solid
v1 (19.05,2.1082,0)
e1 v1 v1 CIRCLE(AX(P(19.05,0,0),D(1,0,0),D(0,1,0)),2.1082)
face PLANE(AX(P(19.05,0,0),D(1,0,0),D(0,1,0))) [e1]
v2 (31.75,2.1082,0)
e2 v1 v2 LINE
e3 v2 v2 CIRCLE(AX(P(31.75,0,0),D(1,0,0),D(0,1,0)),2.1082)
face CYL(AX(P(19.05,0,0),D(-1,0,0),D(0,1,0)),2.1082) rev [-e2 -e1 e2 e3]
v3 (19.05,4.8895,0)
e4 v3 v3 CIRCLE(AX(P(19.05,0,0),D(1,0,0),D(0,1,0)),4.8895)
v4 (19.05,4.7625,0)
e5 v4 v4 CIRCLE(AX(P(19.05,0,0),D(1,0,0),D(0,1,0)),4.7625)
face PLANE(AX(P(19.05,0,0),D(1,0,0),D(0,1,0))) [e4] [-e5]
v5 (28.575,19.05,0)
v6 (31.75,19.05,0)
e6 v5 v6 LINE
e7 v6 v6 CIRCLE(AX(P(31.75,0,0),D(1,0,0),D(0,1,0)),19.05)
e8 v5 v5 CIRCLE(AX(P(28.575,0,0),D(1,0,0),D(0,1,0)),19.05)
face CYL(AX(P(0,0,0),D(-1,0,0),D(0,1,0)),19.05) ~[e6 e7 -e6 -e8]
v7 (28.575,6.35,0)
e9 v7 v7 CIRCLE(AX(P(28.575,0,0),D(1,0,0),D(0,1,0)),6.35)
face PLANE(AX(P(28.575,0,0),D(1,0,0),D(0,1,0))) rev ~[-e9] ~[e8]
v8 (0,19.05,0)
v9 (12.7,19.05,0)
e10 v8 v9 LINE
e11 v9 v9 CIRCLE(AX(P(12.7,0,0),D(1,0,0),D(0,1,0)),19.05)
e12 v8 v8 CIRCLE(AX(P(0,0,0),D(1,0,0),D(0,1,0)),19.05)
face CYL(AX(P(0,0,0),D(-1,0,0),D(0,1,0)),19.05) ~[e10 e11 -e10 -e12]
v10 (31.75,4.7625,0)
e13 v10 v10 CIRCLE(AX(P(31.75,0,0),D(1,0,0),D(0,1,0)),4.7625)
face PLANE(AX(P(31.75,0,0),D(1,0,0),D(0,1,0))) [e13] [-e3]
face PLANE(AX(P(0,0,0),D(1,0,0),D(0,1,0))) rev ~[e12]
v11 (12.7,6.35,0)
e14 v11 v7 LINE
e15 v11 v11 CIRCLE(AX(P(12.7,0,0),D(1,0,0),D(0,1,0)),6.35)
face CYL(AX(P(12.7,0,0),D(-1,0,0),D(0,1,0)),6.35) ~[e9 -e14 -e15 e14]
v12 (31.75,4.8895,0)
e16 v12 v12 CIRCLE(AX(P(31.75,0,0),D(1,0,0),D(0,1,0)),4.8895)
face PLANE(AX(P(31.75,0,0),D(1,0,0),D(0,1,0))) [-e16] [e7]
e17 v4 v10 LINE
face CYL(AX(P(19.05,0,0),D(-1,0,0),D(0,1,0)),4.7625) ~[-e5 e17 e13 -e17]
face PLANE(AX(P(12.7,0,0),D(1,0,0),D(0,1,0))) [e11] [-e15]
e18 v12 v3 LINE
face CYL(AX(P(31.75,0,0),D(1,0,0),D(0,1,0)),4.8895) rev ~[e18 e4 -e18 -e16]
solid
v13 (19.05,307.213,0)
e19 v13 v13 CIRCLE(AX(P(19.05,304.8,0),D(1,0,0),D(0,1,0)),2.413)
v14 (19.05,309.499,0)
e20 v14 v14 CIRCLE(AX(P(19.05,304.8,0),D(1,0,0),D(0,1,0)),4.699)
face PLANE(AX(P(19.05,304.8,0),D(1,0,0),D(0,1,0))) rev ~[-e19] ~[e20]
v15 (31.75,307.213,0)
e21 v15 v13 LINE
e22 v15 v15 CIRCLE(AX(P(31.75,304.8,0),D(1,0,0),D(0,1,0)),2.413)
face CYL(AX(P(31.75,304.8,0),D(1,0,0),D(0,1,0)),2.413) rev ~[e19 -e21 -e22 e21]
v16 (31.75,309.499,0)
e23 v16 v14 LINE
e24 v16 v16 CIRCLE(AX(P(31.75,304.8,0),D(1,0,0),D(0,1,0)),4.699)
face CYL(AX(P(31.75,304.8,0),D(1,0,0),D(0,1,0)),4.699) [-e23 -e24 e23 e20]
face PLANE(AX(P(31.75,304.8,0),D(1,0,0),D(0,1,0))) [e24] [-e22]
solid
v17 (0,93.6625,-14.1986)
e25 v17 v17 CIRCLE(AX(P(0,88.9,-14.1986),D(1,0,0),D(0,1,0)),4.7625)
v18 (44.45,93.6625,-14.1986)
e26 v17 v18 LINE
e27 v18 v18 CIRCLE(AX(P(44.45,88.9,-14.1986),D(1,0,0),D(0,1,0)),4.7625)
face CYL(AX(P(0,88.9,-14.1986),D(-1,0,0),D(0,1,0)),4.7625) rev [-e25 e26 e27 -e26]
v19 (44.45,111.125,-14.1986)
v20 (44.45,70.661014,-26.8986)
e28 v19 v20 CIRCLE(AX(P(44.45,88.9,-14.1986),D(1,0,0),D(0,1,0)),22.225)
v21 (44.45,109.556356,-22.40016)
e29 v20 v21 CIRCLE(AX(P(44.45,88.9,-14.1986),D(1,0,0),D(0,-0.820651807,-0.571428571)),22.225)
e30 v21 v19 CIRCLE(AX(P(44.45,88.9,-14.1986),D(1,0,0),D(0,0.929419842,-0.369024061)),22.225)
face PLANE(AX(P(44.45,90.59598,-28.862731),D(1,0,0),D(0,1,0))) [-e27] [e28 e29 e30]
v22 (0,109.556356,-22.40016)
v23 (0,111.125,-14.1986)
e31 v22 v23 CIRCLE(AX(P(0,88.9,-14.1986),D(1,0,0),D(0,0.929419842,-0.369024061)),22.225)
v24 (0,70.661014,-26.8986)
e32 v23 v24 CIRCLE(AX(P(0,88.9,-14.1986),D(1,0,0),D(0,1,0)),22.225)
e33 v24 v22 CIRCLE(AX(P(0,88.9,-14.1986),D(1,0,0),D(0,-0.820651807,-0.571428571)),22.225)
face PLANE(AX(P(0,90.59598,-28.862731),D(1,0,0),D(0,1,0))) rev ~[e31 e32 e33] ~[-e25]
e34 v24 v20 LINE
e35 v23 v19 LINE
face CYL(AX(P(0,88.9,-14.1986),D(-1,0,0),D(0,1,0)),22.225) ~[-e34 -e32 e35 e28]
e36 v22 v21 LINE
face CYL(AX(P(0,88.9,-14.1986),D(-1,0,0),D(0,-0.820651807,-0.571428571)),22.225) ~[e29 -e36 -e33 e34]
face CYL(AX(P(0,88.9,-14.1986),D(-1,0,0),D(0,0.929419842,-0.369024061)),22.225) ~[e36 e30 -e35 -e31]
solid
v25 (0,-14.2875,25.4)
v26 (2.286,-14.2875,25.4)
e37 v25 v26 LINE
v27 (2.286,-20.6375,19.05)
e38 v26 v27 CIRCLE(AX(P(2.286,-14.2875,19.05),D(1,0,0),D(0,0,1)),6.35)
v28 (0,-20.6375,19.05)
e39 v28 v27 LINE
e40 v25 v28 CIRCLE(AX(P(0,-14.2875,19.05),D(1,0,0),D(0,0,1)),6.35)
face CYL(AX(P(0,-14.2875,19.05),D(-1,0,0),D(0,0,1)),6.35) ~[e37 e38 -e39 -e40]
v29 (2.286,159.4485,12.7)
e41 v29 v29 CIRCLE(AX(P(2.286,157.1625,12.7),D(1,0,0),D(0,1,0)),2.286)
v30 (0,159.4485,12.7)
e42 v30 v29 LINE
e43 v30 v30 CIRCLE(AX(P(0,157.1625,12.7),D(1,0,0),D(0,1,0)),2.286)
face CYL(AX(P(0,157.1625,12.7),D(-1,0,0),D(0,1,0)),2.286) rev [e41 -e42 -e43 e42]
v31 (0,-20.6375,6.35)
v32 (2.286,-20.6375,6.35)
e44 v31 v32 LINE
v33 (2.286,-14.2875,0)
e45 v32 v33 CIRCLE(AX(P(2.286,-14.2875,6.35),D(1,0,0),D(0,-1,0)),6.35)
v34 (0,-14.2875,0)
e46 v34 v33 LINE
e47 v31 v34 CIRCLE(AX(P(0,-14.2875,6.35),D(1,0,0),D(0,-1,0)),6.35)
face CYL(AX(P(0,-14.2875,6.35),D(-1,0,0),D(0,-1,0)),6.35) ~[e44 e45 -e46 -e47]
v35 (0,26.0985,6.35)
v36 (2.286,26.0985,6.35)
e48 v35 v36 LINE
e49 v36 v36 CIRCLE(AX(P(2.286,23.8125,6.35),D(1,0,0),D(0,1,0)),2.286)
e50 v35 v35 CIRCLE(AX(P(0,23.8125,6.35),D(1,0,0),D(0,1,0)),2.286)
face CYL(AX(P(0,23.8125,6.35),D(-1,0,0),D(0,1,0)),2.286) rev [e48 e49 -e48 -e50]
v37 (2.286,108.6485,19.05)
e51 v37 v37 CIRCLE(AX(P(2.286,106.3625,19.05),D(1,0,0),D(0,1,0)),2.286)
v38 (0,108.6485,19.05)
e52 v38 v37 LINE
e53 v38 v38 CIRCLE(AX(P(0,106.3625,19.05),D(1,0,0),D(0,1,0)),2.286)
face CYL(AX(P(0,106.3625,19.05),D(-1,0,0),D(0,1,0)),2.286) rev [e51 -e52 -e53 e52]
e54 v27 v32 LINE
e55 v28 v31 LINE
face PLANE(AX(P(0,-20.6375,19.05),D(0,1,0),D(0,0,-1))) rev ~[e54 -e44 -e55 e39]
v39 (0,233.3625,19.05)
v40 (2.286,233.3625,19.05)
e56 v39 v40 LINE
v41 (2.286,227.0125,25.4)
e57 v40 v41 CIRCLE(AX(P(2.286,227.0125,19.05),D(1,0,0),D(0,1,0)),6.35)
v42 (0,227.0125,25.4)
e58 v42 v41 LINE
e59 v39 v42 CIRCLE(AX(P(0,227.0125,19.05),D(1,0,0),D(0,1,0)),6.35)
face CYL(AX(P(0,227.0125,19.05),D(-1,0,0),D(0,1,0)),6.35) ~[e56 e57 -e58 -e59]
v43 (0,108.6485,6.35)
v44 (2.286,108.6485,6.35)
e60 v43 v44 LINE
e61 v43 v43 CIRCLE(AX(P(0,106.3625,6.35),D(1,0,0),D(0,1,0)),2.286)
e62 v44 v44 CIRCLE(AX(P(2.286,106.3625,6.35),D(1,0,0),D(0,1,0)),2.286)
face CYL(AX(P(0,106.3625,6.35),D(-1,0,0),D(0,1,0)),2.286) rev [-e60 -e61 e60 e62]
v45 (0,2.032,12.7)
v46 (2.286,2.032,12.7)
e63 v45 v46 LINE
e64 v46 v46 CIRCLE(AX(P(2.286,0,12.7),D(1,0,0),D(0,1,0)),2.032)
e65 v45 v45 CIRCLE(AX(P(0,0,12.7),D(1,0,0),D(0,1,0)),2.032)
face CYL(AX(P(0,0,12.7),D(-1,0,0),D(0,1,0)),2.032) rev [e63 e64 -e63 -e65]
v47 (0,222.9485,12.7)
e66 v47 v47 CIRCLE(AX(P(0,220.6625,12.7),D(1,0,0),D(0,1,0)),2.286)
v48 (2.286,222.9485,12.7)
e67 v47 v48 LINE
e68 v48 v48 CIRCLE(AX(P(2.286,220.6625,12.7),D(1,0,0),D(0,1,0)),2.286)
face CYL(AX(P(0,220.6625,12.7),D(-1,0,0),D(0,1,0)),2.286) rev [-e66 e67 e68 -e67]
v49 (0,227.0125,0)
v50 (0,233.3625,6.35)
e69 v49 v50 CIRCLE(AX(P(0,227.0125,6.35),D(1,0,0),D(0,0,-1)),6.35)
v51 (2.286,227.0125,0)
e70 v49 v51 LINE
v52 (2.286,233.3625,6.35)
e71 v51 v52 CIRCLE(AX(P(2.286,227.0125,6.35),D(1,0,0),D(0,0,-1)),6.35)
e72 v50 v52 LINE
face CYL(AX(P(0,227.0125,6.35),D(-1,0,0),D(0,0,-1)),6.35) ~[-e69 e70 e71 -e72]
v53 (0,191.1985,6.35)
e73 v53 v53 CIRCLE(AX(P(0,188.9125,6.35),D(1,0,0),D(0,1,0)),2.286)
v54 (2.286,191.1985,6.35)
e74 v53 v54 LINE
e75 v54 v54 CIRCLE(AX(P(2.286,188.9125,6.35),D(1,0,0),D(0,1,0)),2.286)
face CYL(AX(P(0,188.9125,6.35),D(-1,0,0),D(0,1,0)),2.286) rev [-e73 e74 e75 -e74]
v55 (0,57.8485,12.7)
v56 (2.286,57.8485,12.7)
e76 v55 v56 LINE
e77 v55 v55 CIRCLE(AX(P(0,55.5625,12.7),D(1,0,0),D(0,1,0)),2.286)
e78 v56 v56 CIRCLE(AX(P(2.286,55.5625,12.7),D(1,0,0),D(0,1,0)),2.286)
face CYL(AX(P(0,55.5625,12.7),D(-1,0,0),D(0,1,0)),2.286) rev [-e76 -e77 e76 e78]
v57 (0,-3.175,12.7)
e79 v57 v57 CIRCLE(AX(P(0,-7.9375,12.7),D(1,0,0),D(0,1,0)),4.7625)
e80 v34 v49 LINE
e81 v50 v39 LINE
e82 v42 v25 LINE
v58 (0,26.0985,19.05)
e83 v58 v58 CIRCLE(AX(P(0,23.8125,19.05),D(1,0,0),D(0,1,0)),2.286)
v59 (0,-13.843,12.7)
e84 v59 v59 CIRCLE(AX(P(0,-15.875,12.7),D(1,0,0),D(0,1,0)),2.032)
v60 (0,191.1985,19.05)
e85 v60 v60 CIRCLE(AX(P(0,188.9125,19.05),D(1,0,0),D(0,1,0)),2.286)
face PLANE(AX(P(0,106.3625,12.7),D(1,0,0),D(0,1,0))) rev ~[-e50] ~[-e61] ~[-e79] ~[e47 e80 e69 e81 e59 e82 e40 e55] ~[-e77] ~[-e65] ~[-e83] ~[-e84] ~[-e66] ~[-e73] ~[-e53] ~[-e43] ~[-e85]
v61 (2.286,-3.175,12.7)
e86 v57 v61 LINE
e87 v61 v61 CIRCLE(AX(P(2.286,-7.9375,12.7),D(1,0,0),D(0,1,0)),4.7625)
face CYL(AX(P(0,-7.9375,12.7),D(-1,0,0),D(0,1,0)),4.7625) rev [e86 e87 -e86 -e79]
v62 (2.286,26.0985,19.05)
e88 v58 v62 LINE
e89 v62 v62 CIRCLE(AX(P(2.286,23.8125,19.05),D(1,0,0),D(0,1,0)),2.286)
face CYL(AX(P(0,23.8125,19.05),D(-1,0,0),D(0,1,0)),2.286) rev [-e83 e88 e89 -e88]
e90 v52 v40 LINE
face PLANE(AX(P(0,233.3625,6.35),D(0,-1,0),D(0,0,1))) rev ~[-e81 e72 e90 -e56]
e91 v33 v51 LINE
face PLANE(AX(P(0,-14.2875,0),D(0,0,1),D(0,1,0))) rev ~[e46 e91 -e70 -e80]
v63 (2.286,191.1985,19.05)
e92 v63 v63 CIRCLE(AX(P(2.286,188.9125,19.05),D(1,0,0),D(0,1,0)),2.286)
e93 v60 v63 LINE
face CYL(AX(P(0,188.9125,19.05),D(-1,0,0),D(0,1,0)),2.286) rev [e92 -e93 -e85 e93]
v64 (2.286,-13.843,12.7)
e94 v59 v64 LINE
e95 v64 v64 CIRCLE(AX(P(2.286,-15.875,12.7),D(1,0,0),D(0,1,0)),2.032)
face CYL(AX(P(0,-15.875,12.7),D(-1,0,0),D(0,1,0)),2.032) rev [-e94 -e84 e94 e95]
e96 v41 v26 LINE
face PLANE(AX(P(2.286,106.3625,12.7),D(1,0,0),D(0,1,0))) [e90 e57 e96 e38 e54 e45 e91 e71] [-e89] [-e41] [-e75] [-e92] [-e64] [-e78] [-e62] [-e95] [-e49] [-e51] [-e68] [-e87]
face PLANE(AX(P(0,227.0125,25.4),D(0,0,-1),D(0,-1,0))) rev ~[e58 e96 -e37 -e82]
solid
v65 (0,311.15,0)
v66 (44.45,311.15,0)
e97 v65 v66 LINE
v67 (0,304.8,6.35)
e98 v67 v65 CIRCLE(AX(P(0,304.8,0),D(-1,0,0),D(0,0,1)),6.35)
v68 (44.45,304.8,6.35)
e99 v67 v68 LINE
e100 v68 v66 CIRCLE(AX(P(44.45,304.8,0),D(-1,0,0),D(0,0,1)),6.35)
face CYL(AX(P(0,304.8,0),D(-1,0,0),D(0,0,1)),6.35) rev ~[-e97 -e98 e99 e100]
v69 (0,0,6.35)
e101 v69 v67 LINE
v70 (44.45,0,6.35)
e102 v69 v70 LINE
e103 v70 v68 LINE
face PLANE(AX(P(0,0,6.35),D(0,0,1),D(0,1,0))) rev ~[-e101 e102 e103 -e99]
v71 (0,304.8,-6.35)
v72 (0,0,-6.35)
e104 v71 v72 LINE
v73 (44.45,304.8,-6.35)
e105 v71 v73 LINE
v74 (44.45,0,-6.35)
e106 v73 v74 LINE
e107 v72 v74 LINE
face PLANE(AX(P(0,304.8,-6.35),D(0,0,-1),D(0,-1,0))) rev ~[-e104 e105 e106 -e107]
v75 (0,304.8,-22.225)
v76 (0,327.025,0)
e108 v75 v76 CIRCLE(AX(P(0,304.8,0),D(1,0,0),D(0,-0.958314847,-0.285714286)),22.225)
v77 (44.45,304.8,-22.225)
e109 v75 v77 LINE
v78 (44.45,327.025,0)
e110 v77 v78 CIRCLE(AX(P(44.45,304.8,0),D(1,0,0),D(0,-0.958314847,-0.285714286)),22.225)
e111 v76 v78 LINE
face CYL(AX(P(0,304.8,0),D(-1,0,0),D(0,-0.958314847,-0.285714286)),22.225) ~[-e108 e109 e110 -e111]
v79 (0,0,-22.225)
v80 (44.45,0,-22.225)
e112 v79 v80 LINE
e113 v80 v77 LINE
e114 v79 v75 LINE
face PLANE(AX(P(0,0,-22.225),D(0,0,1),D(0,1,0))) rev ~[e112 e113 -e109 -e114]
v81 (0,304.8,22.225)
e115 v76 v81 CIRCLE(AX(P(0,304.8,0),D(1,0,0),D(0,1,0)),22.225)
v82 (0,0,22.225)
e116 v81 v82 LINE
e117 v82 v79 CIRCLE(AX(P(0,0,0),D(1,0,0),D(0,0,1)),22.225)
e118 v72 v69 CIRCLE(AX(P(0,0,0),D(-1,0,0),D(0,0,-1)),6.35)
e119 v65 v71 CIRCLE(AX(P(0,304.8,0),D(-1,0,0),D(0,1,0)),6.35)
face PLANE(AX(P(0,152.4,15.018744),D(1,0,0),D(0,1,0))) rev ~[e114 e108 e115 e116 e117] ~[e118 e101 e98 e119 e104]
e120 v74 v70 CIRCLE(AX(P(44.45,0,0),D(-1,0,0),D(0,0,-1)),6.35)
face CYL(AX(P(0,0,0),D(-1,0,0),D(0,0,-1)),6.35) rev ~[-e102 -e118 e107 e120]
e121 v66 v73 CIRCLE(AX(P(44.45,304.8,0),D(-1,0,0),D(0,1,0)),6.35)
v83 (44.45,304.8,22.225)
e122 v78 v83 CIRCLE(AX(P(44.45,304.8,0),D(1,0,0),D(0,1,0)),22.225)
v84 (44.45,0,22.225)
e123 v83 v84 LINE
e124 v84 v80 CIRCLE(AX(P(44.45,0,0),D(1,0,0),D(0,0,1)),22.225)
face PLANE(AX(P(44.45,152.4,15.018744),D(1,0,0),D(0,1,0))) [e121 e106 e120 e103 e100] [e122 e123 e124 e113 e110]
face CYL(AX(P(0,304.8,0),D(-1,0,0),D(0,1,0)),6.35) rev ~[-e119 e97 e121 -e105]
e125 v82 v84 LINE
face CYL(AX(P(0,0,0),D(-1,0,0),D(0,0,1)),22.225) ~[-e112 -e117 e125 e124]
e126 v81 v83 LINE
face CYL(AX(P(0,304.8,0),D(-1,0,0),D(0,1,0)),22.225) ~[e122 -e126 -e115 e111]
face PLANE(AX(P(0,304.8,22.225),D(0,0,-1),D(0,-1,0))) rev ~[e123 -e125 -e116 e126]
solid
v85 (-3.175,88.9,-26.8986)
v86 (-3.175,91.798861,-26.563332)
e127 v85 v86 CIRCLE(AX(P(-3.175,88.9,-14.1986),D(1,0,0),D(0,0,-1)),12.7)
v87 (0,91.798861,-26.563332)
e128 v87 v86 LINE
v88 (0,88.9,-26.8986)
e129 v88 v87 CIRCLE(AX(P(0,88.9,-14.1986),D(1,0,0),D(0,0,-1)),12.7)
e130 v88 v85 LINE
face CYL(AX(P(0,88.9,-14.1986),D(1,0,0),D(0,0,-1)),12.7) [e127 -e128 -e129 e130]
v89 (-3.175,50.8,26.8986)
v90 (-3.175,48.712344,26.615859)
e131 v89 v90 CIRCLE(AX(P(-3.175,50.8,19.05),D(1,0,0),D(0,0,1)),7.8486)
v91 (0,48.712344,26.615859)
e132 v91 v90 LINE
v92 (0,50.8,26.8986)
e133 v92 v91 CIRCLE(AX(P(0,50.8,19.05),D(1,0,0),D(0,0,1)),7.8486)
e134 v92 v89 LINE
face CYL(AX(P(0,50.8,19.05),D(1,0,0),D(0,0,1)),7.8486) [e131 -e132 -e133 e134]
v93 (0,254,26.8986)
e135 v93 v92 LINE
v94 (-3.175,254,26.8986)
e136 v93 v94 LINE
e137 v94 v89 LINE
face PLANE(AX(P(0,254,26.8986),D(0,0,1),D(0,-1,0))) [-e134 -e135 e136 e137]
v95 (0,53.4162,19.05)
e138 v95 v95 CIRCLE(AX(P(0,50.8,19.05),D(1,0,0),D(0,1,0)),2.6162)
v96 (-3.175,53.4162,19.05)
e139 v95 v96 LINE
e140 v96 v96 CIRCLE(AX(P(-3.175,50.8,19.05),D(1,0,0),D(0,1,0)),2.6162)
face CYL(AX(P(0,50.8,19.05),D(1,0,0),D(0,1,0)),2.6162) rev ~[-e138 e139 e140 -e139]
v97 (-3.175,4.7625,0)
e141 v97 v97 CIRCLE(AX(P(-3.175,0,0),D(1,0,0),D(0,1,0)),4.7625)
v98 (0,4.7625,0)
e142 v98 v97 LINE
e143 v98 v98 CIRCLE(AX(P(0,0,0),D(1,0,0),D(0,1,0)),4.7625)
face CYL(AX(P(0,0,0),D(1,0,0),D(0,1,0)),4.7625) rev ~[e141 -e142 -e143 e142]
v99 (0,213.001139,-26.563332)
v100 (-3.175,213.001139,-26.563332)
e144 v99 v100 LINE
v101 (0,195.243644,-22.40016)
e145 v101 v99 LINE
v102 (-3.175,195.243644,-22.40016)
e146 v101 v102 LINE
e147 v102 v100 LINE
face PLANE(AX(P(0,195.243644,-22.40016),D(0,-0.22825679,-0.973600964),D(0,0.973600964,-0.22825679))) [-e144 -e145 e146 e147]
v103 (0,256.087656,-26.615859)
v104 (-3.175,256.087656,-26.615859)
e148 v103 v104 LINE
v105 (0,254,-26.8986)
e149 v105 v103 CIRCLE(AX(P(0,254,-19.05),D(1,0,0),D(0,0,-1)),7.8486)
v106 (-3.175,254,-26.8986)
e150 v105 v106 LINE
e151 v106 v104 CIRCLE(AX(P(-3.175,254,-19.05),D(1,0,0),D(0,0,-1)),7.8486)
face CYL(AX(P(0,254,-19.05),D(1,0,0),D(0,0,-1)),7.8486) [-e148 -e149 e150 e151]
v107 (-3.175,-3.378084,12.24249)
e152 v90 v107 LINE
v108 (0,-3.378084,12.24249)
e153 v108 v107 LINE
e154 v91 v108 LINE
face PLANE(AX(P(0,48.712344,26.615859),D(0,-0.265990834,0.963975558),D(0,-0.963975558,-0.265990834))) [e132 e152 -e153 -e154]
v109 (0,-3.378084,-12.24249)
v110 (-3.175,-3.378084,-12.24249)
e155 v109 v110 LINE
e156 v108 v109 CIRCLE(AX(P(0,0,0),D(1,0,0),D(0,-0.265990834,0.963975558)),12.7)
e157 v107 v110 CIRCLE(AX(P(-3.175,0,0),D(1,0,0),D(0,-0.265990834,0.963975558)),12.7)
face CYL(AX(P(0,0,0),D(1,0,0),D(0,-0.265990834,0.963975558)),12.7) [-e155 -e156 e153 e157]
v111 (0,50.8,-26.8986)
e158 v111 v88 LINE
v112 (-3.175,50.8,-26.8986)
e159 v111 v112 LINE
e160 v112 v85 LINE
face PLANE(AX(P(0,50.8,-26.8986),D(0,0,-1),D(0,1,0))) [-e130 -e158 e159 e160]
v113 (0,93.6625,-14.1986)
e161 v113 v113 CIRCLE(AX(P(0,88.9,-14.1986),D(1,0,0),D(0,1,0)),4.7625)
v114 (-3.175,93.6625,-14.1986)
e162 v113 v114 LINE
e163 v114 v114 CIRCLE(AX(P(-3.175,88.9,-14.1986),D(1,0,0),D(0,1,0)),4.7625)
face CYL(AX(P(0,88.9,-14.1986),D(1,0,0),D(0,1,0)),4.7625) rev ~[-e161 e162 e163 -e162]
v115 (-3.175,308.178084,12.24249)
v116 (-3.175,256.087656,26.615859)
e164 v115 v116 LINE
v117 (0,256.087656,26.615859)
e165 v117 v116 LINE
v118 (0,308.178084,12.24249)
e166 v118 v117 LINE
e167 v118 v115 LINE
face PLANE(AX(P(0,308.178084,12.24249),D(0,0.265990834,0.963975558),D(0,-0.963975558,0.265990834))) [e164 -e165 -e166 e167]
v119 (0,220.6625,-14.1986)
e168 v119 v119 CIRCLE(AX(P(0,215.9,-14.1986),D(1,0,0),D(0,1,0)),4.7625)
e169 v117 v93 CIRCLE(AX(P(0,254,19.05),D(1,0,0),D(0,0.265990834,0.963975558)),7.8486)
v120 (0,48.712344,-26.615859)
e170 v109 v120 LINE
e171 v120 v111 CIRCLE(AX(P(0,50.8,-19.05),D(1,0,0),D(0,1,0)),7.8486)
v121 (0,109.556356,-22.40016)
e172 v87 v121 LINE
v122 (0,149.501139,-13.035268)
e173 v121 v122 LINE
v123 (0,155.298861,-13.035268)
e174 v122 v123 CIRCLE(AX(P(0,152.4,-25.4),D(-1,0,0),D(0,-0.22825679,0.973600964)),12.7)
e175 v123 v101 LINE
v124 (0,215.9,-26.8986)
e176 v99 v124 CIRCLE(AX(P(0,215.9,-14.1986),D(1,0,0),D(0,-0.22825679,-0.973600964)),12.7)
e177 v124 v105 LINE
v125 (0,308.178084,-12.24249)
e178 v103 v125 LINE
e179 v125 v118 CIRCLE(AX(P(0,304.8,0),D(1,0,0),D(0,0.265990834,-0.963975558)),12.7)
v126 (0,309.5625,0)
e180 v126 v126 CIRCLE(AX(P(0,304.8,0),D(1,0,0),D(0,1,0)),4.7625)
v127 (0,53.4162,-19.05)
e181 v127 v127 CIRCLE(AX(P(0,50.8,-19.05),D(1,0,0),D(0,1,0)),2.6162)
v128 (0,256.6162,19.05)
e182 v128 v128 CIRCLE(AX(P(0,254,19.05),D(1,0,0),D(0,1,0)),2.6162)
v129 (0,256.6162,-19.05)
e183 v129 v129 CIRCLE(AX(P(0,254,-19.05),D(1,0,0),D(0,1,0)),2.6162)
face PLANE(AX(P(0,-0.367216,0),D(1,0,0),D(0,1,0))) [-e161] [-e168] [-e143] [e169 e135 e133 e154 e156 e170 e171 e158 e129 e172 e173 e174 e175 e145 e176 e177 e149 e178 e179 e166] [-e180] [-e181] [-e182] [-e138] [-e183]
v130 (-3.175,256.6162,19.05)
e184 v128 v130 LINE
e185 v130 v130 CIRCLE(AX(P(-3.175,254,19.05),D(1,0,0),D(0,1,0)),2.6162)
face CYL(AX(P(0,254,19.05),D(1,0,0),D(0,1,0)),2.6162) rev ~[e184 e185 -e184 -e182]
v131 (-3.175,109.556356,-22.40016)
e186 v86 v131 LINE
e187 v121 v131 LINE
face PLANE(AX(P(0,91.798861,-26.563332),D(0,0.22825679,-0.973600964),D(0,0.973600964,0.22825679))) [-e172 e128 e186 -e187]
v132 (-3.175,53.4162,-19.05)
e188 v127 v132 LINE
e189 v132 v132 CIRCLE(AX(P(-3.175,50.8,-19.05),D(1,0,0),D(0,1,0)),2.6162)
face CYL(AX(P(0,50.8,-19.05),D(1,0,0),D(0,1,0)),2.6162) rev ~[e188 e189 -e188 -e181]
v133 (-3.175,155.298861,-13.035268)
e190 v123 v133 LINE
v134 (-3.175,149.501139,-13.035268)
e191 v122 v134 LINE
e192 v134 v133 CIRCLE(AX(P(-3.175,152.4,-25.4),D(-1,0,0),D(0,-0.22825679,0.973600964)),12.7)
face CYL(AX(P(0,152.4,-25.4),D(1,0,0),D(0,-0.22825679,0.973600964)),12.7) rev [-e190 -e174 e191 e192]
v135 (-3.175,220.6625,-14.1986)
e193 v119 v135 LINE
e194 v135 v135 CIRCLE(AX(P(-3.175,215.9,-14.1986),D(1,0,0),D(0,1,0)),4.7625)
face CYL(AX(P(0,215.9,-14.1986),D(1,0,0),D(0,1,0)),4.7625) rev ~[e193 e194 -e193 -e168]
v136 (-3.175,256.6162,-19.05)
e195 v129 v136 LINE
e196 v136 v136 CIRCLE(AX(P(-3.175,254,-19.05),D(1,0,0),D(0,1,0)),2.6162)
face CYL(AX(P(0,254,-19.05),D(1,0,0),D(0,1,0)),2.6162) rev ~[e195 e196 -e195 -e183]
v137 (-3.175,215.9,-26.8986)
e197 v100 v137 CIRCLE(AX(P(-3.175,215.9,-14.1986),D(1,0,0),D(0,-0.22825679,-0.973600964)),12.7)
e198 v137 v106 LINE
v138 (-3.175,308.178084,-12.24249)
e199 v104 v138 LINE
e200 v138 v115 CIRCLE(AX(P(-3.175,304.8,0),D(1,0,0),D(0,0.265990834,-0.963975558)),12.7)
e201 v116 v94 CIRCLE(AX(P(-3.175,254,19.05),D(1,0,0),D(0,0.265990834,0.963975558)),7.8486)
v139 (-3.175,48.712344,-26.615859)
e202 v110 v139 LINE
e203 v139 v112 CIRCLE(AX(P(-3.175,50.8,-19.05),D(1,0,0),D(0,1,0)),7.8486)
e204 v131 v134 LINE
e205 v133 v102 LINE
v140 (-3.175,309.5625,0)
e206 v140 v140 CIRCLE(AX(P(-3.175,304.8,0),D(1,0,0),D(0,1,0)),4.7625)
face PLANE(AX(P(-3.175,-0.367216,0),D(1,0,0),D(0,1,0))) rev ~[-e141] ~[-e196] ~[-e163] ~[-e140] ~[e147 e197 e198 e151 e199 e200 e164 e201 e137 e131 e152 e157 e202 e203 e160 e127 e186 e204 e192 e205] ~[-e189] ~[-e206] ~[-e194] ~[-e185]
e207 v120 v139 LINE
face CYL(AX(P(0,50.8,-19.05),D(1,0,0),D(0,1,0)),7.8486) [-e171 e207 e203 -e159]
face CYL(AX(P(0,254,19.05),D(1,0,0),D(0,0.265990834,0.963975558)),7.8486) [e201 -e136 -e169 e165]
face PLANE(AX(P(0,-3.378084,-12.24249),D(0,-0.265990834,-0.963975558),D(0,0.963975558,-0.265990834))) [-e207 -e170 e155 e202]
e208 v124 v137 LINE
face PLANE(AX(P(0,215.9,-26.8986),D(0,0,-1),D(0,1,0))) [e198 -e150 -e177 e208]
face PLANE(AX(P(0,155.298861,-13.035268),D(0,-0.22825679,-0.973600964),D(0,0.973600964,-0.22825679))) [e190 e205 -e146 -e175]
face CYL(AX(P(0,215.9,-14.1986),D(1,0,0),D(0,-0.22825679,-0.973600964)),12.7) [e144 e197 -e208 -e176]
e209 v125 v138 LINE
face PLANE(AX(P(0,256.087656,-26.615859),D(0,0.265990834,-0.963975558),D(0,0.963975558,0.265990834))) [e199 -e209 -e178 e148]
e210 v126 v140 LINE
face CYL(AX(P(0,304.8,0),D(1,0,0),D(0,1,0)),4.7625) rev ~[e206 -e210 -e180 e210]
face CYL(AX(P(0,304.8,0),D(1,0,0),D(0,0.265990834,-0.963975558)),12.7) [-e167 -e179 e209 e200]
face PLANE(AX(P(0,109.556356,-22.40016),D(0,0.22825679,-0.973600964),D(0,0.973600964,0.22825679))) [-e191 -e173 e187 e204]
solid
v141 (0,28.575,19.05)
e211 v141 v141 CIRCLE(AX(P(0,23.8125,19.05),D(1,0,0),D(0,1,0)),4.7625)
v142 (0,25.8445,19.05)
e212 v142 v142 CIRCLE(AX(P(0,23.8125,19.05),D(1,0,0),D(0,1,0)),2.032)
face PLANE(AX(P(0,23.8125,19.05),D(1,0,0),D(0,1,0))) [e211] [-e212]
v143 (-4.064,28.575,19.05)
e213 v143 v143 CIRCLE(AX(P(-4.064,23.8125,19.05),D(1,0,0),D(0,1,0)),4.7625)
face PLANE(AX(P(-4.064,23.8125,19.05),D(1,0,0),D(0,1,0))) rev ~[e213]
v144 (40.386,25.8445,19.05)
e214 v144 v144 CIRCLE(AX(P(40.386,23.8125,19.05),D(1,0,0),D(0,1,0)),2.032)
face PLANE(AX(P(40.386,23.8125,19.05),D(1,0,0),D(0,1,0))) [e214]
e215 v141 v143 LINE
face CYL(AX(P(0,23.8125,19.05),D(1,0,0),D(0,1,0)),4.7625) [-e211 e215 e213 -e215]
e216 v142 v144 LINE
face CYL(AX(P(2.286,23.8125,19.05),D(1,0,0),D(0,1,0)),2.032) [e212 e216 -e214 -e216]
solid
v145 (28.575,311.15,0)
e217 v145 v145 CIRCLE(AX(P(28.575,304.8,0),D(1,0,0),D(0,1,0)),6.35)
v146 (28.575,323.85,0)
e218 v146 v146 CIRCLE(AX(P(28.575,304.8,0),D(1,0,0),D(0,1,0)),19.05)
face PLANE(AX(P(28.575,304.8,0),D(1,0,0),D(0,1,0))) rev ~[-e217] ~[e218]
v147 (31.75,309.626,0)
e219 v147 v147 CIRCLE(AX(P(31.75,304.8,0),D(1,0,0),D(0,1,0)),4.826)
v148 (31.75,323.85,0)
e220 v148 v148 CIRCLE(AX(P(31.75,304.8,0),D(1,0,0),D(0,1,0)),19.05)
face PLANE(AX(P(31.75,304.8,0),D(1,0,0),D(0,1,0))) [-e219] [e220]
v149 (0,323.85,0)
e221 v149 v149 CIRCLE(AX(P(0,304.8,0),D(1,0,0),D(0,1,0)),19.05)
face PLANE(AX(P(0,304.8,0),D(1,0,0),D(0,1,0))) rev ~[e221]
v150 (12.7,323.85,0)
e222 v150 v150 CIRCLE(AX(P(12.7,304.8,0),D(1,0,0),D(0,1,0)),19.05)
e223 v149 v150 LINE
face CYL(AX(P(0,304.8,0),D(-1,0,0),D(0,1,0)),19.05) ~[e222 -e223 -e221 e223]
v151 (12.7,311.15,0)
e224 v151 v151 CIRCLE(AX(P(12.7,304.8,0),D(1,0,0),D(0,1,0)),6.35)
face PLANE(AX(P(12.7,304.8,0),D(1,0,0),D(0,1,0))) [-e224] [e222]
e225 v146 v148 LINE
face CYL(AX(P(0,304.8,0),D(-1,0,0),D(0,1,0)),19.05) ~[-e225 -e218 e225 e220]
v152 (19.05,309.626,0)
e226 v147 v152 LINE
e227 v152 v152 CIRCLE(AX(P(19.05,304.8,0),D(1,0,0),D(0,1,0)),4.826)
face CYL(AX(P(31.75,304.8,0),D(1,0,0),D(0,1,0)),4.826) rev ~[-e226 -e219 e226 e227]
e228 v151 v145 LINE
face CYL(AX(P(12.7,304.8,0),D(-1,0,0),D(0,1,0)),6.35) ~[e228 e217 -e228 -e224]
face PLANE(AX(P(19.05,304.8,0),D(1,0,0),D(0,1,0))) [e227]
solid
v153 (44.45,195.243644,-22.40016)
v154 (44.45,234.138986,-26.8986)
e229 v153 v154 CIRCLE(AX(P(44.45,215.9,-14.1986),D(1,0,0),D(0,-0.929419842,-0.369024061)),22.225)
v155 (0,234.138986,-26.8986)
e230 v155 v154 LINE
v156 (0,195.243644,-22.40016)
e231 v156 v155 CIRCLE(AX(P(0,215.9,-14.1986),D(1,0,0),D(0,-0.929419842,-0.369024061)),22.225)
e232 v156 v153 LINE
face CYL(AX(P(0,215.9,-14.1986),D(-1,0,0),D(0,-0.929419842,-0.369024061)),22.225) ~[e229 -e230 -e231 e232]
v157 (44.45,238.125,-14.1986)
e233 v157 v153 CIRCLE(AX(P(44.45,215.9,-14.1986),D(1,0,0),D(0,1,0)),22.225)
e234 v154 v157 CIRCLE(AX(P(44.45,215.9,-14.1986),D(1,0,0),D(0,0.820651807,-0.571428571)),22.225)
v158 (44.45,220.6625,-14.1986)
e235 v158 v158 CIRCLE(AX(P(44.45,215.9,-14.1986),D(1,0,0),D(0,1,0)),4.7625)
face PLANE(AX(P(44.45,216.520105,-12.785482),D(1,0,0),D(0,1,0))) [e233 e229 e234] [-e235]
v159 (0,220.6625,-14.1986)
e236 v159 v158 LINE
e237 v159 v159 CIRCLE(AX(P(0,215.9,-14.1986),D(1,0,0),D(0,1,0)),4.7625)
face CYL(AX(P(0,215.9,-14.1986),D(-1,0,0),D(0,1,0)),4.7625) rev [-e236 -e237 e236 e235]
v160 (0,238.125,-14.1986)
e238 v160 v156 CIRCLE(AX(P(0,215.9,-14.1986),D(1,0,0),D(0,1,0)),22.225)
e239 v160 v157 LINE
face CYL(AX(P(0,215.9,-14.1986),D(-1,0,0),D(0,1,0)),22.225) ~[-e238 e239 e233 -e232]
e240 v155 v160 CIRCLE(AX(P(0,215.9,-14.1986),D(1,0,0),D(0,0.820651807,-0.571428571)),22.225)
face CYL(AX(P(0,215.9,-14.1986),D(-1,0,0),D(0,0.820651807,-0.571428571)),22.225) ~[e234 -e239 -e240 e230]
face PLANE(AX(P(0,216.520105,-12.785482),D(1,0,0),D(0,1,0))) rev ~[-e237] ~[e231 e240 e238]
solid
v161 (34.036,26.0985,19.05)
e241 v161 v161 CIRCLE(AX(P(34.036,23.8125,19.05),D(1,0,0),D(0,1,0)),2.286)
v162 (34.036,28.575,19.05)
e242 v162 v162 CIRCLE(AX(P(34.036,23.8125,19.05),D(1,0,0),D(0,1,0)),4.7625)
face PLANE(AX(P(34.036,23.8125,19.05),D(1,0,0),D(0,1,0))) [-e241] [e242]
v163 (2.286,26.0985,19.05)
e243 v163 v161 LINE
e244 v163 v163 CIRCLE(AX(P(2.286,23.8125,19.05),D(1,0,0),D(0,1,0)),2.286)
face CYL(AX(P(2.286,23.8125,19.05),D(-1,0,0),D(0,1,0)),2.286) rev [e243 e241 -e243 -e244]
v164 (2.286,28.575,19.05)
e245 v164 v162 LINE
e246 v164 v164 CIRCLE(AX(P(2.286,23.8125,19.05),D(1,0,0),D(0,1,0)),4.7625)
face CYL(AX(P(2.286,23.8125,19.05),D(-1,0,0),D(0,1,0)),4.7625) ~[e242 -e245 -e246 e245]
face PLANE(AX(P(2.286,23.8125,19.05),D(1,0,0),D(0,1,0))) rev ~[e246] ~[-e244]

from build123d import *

# Parameters (mm, degrees)
F0_R           = 19.05
F0_R_2         = 6.35
F1_DEPTH       = 31.75
F2_START       = 12.7
F2_DEPTH       = 15.875
F3_R           = 4.7625
F3_R_2         = 2.6162
F4_DEPTH       = 3.175
F5_DEPTH       = 44.45
F7_DEPTH       = 44.45
F8_R           = 2.286
F8_R_2         = 2.032
F8_R_3         = 4.7625
F9_DEPTH       = 2.286
F10_R          = 4.7625
F10_R_2        = 2.286
F11_DEPTH      = 31.75
F10_R_3        = 2.032
F12_DEPTH      = 38.1
F12_DEPTH_BACK = 2.286
F13_START      = -2.286
F13_DEPTH      = 4.064
F14_R          = 4.8895
F15_DEPTH      = 12.7
F16_R          = 4.7625
F16_R_2        = 2.1082
F17_DEPTH      = 12.7
F18_R          = 4.826
F18_R_2        = 4.699
F18_R_3        = 2.413
F19_DEPTH      = 12.7
F20_DEPTH      = 12.7


with BuildPart() as f1:
    # F0 (on Right) → F1 (new body)
    with BuildSketch(Plane.YZ):
        Circle(F0_R)
        Circle(F0_R_2, mode=Mode.SUBTRACT)
        Circle(F0_R_2)
    extrude(amount=F1_DEPTH)


with BuildPart() as f1b:
    # F0 (on Right) → F1, piece 2 (new body)
    with BuildSketch(Plane.YZ):
        with Locations((304.8, 0)):
            Circle(F0_R)
        with Locations((304.8, 0)):
            Circle(F0_R_2, mode=Mode.SUBTRACT)
        with Locations((304.8, 0)):
            Circle(F0_R_2)
    extrude(amount=F1_DEPTH)


with BuildPart() as f2_tool:
    # F0 (on Right) → F2 (new body)
    with BuildSketch(Plane.YZ.offset(F2_START)):
        Circle(F0_R)
        Circle(F0_R_2, mode=Mode.SUBTRACT)
        with Locations((304.8, 0)):
            Circle(F0_R)
        with Locations((304.8, 0)):
            Circle(F0_R_2, mode=Mode.SUBTRACT)
    extrude(amount=F2_DEPTH)


with BuildPart() as f1_1:
    add(f1.part)

    # F2: cut by f2_tool
    add(f2_tool.part, mode=Mode.SUBTRACT)

    # F14 (on face) → F15 (cut)
    with BuildSketch(Plane.YZ.offset(31.75)):
        Circle(F14_R)
    extrude(amount=-F15_DEPTH, mode=Mode.SUBTRACT)

    # F16 (on face) → F17 (join)
    with BuildSketch(Plane.YZ.offset(19.05)):
        Circle(F16_R)
        Circle(F16_R_2, mode=Mode.SUBTRACT)
    extrude(amount=F17_DEPTH)


with BuildPart() as f1b_1:
    add(f1b.part)

    # F2: cut by f2_tool
    add(f2_tool.part, mode=Mode.SUBTRACT)

    # F18 (on face) → F19 (cut)
    with BuildSketch(Plane.YZ.offset(31.75)):
        with Locations((304.8, 0)):
            Circle(F18_R)
        with Locations((304.8, 0)):
            Circle(F18_R_2, mode=Mode.SUBTRACT)
        with Locations((304.8, 0)):
            Circle(F18_R_2)
        with Locations((304.8, 0)):
            Circle(F18_R_3, mode=Mode.SUBTRACT)
        with Locations((304.8, 0)):
            Circle(F18_R_3)
    extrude(amount=-F19_DEPTH, mode=Mode.SUBTRACT)


with BuildPart() as f4:
    # F3 (on Right) → F4 (new body)
    with BuildSketch(Plane.YZ):
        with BuildLine():
            ThreePointArc((-3.3780835942, -12.2424895847), (7.6937747027, -10.1042481573), (12.7, 0))
            ThreePointArc((12.7, 0), (7.6937747027, 10.1042481573), (-3.3780835942, 12.2424895847))
            ThreePointArc((-3.3780835942, 12.2424895847), (-12.7, 0), (-3.3780835942, -12.2424895847))
        make_face()
        Circle(F3_R, mode=Mode.SUBTRACT)
        with BuildLine():
            ThreePointArc((-3.3780835942, 12.2424895847), (7.6937747027, 10.1042481573), (12.7, 0))
            ThreePointArc((12.7, 0), (7.6937747027, -10.1042481573), (-3.3780835942, -12.2424895847))
            Line((-3.3780835942, -12.2424895847), (48.7123443388, -26.6158585633))
            ThreePointArc((48.7123443388, -26.6158585633), (46.0452472337, -12.8055746388), (58.6486, -19.05))
            ThreePointArc((58.6486, -19.05), (56.3497982828, -24.5997982828), (50.8, -26.8986))
            Line((50.8, -26.8986), (70.6610135972, -26.8986))
            ThreePointArc((70.6610135972, -26.8986), (82.2445829508, 7.0064948807), (111.125, -14.1986))
            ThreePointArc((111.125, -14.1986), (110.7293167176, -18.3737115723), (109.5563559828, -22.4001597609))
            Line((109.5563559828, -22.4001597609), (149.5011387685, -13.0352677522))
            ThreePointArc((149.5011387685, -13.0352677522), (152.4, -12.7), (155.2988612315, -13.0352677522))
            Line((155.2988612315, -13.0352677522), (195.2436440172, -22.4001597609))
            ThreePointArc((195.2436440172, -22.4001597609), (211.7248884277, 7.6307167176), (238.125, -14.1986))
            ThreePointArc((238.125, -14.1986), (237.1050948807, -20.8540170492), (234.1389864028, -26.8986))
            Line((234.1389864028, -26.8986), (254, -26.8986))
            ThreePointArc((254, -26.8986), (248.4502017172, -13.5002017172), (261.8486, -19.05))
            ThreePointArc((261.8486, -19.05), (260.2444253612, -23.8047527663), (256.0876556612, -26.6158585633))
            Line((256.0876556612, -26.6158585633), (308.1780835942, -12.2424895847))
            ThreePointArc((308.1780835942, -12.2424895847), (292.1, 0), (308.1780835942, 12.2424895847))
            Line((308.1780835942, 12.2424895847), (256.0876556612, 26.6158585633))
            ThreePointArc((256.0876556612, 26.6158585633), (260.2444253612, 23.8047527663), (261.8486, 19.05))
            ThreePointArc((261.8486, 19.05), (248.4502017172, 13.5002017172), (254, 26.8986))
            Line((254, 26.8986), (50.8, 26.8986))
            ThreePointArc((50.8, 26.8986), (56.3497982828, 24.5997982828), (58.6486, 19.05))
            ThreePointArc((58.6486, 19.05), (46.0452472337, 12.8055746388), (48.7123443388, 26.6158585633))
            Line((48.7123443388, 26.6158585633), (-3.3780835942, 12.2424895847))
        make_face()
        with BuildLine():
            ThreePointArc((317.5, 0), (314.9042481573, 7.6937747027), (308.1780835942, 12.2424895847))
            ThreePointArc((308.1780835942, 12.2424895847), (292.1, 0), (308.1780835942, -12.2424895847))
            ThreePointArc((308.1780835942, -12.2424895847), (314.9042481573, -7.6937747027), (317.5, 0))
        make_face()
        with Locations((304.8, 0)):
            Circle(F3_R, mode=Mode.SUBTRACT)
        with BuildLine():
            ThreePointArc((50.8, 26.8986), (49.7466424064, 26.8275934414), (48.7123443388, 26.6158585633))
            ThreePointArc((48.7123443388, 26.6158585633), (46.0452472337, 12.8055746388), (58.6486, 19.05))
            ThreePointArc((58.6486, 19.05), (56.3497982828, 24.5997982828), (50.8, 26.8986))
        make_face()
        with Locations((50.8, 19.05)):
            Circle(F3_R_2, mode=Mode.SUBTRACT)
        with BuildLine():
            ThreePointArc((58.6486, -19.05), (46.0452472337, -12.8055746388), (48.7123443388, -26.6158585633))
            ThreePointArc((48.7123443388, -26.6158585633), (49.7466424064, -26.8275934414), (50.8, -26.8986))
            ThreePointArc((50.8, -26.8986), (56.3497982828, -24.5997982828), (58.6486, -19.05))
        make_face()
        with Locations((50.8, -19.05)):
            Circle(F3_R_2, mode=Mode.SUBTRACT)
        with BuildLine():
            ThreePointArc((101.6, -14.1986), (79.9197438789, -5.2183438789), (88.9, -26.8986))
            ThreePointArc((88.9, -26.8986), (90.3590922611, -26.8145046356), (91.7988612315, -26.5633322478))
            ThreePointArc((91.7988612315, -26.5633322478), (98.8525257508, -22.0876576864), (101.6, -14.1986))
        make_face()
        with Locations((88.9, -14.1986)):
            Circle(F3_R, mode=Mode.SUBTRACT)
        with BuildLine():
            ThreePointArc((111.125, -14.1986), (82.2445829508, 7.0064948807), (70.6610135972, -26.8986))
            Line((70.6610135972, -26.8986), (88.9, -26.8986))
            ThreePointArc((88.9, -26.8986), (79.9197438789, -5.2183438789), (101.6, -14.1986))
            ThreePointArc((101.6, -14.1986), (98.8525257508, -22.0876576864), (91.7988612315, -26.5633322478))
            Line((91.7988612315, -26.5633322478), (109.5563559828, -22.4001597609))
            ThreePointArc((109.5563559828, -22.4001597609), (110.7293167176, -18.3737115723), (111.125, -14.1986))
        make_face()
        with BuildLine():
            ThreePointArc((254, -26.8986), (255.0533575936, -26.8275934414), (256.0876556612, -26.6158585633))
            ThreePointArc((256.0876556612, -26.6158585633), (260.2444253612, -23.8047527663), (261.8486, -19.05))
            ThreePointArc((261.8486, -19.05), (248.4502017172, -13.5002017172), (254, -26.8986))
        make_face()
        with Locations((254, -19.05)):
            Circle(F3_R_2, mode=Mode.SUBTRACT)
        with BuildLine():
            ThreePointArc((256.0876556612, 26.6158585633), (255.0533575936, 26.8275934414), (254, 26.8986))
            ThreePointArc((254, 26.8986), (248.4502017172, 13.5002017172), (261.8486, 19.05))
            ThreePointArc((261.8486, 19.05), (260.2444253612, 23.8047527663), (256.0876556612, 26.6158585633))
        make_face()
        with Locations((254, 19.05)):
            Circle(F3_R_2, mode=Mode.SUBTRACT)
        with BuildLine():
            ThreePointArc((228.6, -14.1986), (208.0109423136, -4.2460742492), (213.0011387685, -26.5633322478))
            ThreePointArc((213.0011387685, -26.5633322478), (214.4409077389, -26.8145046356), (215.9, -26.8986))
            ThreePointArc((215.9, -26.8986), (224.8802561211, -23.1788561211), (228.6, -14.1986))
        make_face()
        with Locations((215.9, -14.1986)):
            Circle(F3_R, mode=Mode.SUBTRACT)
        with BuildLine():
            ThreePointArc((238.125, -14.1986), (211.7248884277, 7.6307167176), (195.2436440172, -22.4001597609))
            Line((195.2436440172, -22.4001597609), (213.0011387685, -26.5633322478))
            ThreePointArc((213.0011387685, -26.5633322478), (208.0109423136, -4.2460742492), (228.6, -14.1986))
            ThreePointArc((228.6, -14.1986), (224.8802561211, -23.1788561211), (215.9, -26.8986))
            Line((215.9, -26.8986), (234.1389864028, -26.8986))
            ThreePointArc((234.1389864028, -26.8986), (237.1050948807, -20.8540170492), (238.125, -14.1986))
        make_face()
    extrude(amount=-F4_DEPTH)


with BuildPart() as f5:
    # F3 (on Right) → F5 (new body)
    with BuildSketch(Plane.YZ):
        with BuildLine():
            Line((88.9, -26.8986), (70.6610135972, -26.8986))
            ThreePointArc((70.6610135972, -26.8986), (91.4534114568, -36.2764331122), (109.5563559828, -22.4001597609))
            Line((109.5563559828, -22.4001597609), (91.7988612315, -26.5633322478))
            ThreePointArc((91.7988612315, -26.5633322478), (90.3590922611, -26.8145046356), (88.9, -26.8986))
        make_face()
        with BuildLine():
            ThreePointArc((111.125, -14.1986), (82.2445829508, 7.0064948807), (70.6610135972, -26.8986))
            Line((70.6610135972, -26.8986), (88.9, -26.8986))
            ThreePointArc((88.9, -26.8986), (79.9197438789, -5.2183438789), (101.6, -14.1986))
            ThreePointArc((101.6, -14.1986), (98.8525257508, -22.0876576864), (91.7988612315, -26.5633322478))
            Line((91.7988612315, -26.5633322478), (109.5563559828, -22.4001597609))
            ThreePointArc((109.5563559828, -22.4001597609), (110.7293167176, -18.3737115723), (111.125, -14.1986))
        make_face()
        with BuildLine():
            ThreePointArc((101.6, -14.1986), (79.9197438789, -5.2183438789), (88.9, -26.8986))
            ThreePointArc((88.9, -26.8986), (90.3590922611, -26.8145046356), (91.7988612315, -26.5633322478))
            ThreePointArc((91.7988612315, -26.5633322478), (98.8525257508, -22.0876576864), (101.6, -14.1986))
        make_face()
        with Locations((88.9, -14.1986)):
            Circle(F3_R, mode=Mode.SUBTRACT)
    extrude(amount=F5_DEPTH)


with BuildPart() as f5b:
    # F3 (on Right) → F5, piece 2 (new body)
    with BuildSketch(Plane.YZ):
        with BuildLine():
            ThreePointArc((238.125, -14.1986), (211.7248884277, 7.6307167176), (195.2436440172, -22.4001597609))
            Line((195.2436440172, -22.4001597609), (213.0011387685, -26.5633322478))
            ThreePointArc((213.0011387685, -26.5633322478), (208.0109423136, -4.2460742492), (228.6, -14.1986))
            ThreePointArc((228.6, -14.1986), (224.8802561211, -23.1788561211), (215.9, -26.8986))
            Line((215.9, -26.8986), (234.1389864028, -26.8986))
            ThreePointArc((234.1389864028, -26.8986), (237.1050948807, -20.8540170492), (238.125, -14.1986))
        make_face()
        with BuildLine():
            ThreePointArc((228.6, -14.1986), (208.0109423136, -4.2460742492), (213.0011387685, -26.5633322478))
            ThreePointArc((213.0011387685, -26.5633322478), (214.4409077389, -26.8145046356), (215.9, -26.8986))
            ThreePointArc((215.9, -26.8986), (224.8802561211, -23.1788561211), (228.6, -14.1986))
        make_face()
        with Locations((215.9, -14.1986)):
            Circle(F3_R, mode=Mode.SUBTRACT)
        with BuildLine():
            Line((213.0011387685, -26.5633322478), (195.2436440172, -22.4001597609))
            ThreePointArc((195.2436440172, -22.4001597609), (213.3465885432, -36.2764331122), (234.1389864028, -26.8986))
            Line((234.1389864028, -26.8986), (215.9, -26.8986))
            ThreePointArc((215.9, -26.8986), (214.4409077389, -26.8145046356), (213.0011387685, -26.5633322478))
        make_face()
    extrude(amount=F5_DEPTH)


with BuildPart() as f7:
    # F6 (on Right) → F7 (new body)
    with BuildSketch(Plane.YZ):
        with BuildLine():
            ThreePointArc((0, 22.225), (13.2819779212, 17.8196433045), (21.2985474857, 6.35))
            Line((21.2985474857, 6.35), (283.5014525143, 6.35))
            ThreePointArc((283.5014525143, 6.35), (291.5180220788, 17.8196433045), (304.8, 22.225))
            Line((304.8, 22.225), (0, 22.225))
        make_face()
        with BuildLine():
            ThreePointArc((0, -6.35), (-6.35, 0), (0, 6.35))
            Line((0, 6.35), (21.2985474857, 6.35))
            ThreePointArc((21.2985474857, 6.35), (13.2819779212, 17.8196433045), (0, 22.225))
            ThreePointArc((0, 22.225), (-22.225, 0), (0, -22.225))
            ThreePointArc((0, -22.225), (13.2819779212, -17.8196433045), (21.2985474857, -6.35))
            Line((21.2985474857, -6.35), (0, -6.35))
        make_face()
        with BuildLine():
            Line((283.5014525143, -6.35), (21.2985474857, -6.35))
            ThreePointArc((21.2985474857, -6.35), (13.2819779212, -17.8196433045), (0, -22.225))
            Line((0, -22.225), (304.8, -22.225))
            ThreePointArc((304.8, -22.225), (291.5180220788, -17.8196433045), (283.5014525143, -6.35))
        make_face()
        with BuildLine():
            ThreePointArc((304.8, 22.225), (291.5180220788, 17.8196433045), (283.5014525143, 6.35))
            Line((283.5014525143, 6.35), (304.8, 6.35))
            ThreePointArc((304.8, 6.35), (309.2901280605, 4.4901280605), (311.15, 0))
            ThreePointArc((311.15, 0), (309.2901280605, -4.4901280605), (304.8, -6.35))
            Line((304.8, -6.35), (283.5014525143, -6.35))
            ThreePointArc((283.5014525143, -6.35), (291.5180220788, -17.8196433045), (304.8, -22.225))
            ThreePointArc((304.8, -22.225), (320.5154482119, -15.7154482119), (327.025, 0))
            ThreePointArc((327.025, 0), (320.5154482119, 15.7154482119), (304.8, 22.225))
        make_face()
    extrude(amount=F7_DEPTH)


with BuildPart() as f9:
    # F8 (on Right) → F9 (new body)
    with BuildSketch(Plane.YZ):
        with BuildLine():
            Line((227.0125, 25.4), (-14.2875, 25.4))
            ThreePointArc((-14.2875, 25.4), (-18.7776280605, 23.5401280605), (-20.6375, 19.05))
            Line((-20.6375, 19.05), (-20.6375, 6.35))
            ThreePointArc((-20.6375, 6.35), (-18.7776280605, 1.8598719395), (-14.2875, 0))
            Line((-14.2875, 0), (227.0125, 0))
            ThreePointArc((227.0125, 0), (231.5026280605, 1.8598719395), (233.3625, 6.35))
            Line((233.3625, 6.35), (233.3625, 19.05))
            ThreePointArc((233.3625, 19.05), (231.5026280605, 23.5401280605), (227.0125, 25.4))
        make_face()
        with Locations((23.8125, 6.35)):
            Circle(F8_R, mode=Mode.SUBTRACT)
        with Locations((106.3625, 6.35)):
            Circle(F8_R, mode=Mode.SUBTRACT)
        with Locations((188.9125, 6.35)):
            Circle(F8_R, mode=Mode.SUBTRACT)
        with Locations((-15.875, 12.7)):
            Circle(F8_R_2, mode=Mode.SUBTRACT)
        with Locations((-7.9375, 12.7)):
            Circle(F8_R_3, mode=Mode.SUBTRACT)
        with Locations((0, 12.7)):
            Circle(F8_R_2, mode=Mode.SUBTRACT)
        with Locations((55.5625, 12.7)):
            Circle(F8_R, mode=Mode.SUBTRACT)
        with Locations((23.8125, 19.05)):
            Circle(F8_R, mode=Mode.SUBTRACT)
        with Locations((157.1625, 12.7)):
            Circle(F8_R, mode=Mode.SUBTRACT)
        with Locations((220.6625, 12.7)):
            Circle(F8_R, mode=Mode.SUBTRACT)
        with Locations((106.3625, 19.05)):
            Circle(F8_R, mode=Mode.SUBTRACT)
        with Locations((188.9125, 19.05)):
            Circle(F8_R, mode=Mode.SUBTRACT)
    extrude(amount=F9_DEPTH)


with BuildPart() as f11:
    # F10 (on face) → F11 (new body)
    with BuildSketch(Plane.YZ.offset(2.286)):
        with Locations((23.8125, 19.05)):
            Circle(F10_R)
        with Locations((23.8125, 19.05)):
            Circle(F10_R_2, mode=Mode.SUBTRACT)
    extrude(amount=F11_DEPTH)


with BuildPart() as f12:
    # F10 (on face) → F12 (new body, two sides)
    with BuildSketch(Plane.YZ.offset(2.286)) as f12_sk:
        with Locations((23.8125, 19.05)):
            Circle(F10_R_3)
    extrude(amount=F12_DEPTH)
    extrude(f12_sk.sketch, amount=-F12_DEPTH_BACK)

    # F10 (on face) → F13 (join)
    with BuildSketch(Plane.YZ.offset(2.286).offset(F13_START)):
        with Locations((23.8125, 19.05)):
            Circle(F10_R)
        with Locations((23.8125, 19.05)):
            Circle(F10_R_2, mode=Mode.SUBTRACT)
        with Locations((23.8125, 19.05)):
            Circle(F10_R_2)
        with Locations((23.8125, 19.05)):
            Circle(F10_R_3, mode=Mode.SUBTRACT)
        with Locations((23.8125, 19.05)):
            Circle(F10_R_3)
    extrude(amount=-F13_DEPTH)


with BuildPart() as f20:
    # F18 (on face) → F20 (new body)
    with BuildSketch(Plane.YZ.offset(31.75)):
        with Locations((304.8, 0)):
            Circle(F18_R_2)
        with Locations((304.8, 0)):
            Circle(F18_R_3, mode=Mode.SUBTRACT)
    extrude(amount=-F20_DEPTH)


solid = Compound([f1_1.part, f1b_1.part, f4.part, f5.part, f5b.part, f7.part, f9.part, f11.part, f12.part, f20.part])
